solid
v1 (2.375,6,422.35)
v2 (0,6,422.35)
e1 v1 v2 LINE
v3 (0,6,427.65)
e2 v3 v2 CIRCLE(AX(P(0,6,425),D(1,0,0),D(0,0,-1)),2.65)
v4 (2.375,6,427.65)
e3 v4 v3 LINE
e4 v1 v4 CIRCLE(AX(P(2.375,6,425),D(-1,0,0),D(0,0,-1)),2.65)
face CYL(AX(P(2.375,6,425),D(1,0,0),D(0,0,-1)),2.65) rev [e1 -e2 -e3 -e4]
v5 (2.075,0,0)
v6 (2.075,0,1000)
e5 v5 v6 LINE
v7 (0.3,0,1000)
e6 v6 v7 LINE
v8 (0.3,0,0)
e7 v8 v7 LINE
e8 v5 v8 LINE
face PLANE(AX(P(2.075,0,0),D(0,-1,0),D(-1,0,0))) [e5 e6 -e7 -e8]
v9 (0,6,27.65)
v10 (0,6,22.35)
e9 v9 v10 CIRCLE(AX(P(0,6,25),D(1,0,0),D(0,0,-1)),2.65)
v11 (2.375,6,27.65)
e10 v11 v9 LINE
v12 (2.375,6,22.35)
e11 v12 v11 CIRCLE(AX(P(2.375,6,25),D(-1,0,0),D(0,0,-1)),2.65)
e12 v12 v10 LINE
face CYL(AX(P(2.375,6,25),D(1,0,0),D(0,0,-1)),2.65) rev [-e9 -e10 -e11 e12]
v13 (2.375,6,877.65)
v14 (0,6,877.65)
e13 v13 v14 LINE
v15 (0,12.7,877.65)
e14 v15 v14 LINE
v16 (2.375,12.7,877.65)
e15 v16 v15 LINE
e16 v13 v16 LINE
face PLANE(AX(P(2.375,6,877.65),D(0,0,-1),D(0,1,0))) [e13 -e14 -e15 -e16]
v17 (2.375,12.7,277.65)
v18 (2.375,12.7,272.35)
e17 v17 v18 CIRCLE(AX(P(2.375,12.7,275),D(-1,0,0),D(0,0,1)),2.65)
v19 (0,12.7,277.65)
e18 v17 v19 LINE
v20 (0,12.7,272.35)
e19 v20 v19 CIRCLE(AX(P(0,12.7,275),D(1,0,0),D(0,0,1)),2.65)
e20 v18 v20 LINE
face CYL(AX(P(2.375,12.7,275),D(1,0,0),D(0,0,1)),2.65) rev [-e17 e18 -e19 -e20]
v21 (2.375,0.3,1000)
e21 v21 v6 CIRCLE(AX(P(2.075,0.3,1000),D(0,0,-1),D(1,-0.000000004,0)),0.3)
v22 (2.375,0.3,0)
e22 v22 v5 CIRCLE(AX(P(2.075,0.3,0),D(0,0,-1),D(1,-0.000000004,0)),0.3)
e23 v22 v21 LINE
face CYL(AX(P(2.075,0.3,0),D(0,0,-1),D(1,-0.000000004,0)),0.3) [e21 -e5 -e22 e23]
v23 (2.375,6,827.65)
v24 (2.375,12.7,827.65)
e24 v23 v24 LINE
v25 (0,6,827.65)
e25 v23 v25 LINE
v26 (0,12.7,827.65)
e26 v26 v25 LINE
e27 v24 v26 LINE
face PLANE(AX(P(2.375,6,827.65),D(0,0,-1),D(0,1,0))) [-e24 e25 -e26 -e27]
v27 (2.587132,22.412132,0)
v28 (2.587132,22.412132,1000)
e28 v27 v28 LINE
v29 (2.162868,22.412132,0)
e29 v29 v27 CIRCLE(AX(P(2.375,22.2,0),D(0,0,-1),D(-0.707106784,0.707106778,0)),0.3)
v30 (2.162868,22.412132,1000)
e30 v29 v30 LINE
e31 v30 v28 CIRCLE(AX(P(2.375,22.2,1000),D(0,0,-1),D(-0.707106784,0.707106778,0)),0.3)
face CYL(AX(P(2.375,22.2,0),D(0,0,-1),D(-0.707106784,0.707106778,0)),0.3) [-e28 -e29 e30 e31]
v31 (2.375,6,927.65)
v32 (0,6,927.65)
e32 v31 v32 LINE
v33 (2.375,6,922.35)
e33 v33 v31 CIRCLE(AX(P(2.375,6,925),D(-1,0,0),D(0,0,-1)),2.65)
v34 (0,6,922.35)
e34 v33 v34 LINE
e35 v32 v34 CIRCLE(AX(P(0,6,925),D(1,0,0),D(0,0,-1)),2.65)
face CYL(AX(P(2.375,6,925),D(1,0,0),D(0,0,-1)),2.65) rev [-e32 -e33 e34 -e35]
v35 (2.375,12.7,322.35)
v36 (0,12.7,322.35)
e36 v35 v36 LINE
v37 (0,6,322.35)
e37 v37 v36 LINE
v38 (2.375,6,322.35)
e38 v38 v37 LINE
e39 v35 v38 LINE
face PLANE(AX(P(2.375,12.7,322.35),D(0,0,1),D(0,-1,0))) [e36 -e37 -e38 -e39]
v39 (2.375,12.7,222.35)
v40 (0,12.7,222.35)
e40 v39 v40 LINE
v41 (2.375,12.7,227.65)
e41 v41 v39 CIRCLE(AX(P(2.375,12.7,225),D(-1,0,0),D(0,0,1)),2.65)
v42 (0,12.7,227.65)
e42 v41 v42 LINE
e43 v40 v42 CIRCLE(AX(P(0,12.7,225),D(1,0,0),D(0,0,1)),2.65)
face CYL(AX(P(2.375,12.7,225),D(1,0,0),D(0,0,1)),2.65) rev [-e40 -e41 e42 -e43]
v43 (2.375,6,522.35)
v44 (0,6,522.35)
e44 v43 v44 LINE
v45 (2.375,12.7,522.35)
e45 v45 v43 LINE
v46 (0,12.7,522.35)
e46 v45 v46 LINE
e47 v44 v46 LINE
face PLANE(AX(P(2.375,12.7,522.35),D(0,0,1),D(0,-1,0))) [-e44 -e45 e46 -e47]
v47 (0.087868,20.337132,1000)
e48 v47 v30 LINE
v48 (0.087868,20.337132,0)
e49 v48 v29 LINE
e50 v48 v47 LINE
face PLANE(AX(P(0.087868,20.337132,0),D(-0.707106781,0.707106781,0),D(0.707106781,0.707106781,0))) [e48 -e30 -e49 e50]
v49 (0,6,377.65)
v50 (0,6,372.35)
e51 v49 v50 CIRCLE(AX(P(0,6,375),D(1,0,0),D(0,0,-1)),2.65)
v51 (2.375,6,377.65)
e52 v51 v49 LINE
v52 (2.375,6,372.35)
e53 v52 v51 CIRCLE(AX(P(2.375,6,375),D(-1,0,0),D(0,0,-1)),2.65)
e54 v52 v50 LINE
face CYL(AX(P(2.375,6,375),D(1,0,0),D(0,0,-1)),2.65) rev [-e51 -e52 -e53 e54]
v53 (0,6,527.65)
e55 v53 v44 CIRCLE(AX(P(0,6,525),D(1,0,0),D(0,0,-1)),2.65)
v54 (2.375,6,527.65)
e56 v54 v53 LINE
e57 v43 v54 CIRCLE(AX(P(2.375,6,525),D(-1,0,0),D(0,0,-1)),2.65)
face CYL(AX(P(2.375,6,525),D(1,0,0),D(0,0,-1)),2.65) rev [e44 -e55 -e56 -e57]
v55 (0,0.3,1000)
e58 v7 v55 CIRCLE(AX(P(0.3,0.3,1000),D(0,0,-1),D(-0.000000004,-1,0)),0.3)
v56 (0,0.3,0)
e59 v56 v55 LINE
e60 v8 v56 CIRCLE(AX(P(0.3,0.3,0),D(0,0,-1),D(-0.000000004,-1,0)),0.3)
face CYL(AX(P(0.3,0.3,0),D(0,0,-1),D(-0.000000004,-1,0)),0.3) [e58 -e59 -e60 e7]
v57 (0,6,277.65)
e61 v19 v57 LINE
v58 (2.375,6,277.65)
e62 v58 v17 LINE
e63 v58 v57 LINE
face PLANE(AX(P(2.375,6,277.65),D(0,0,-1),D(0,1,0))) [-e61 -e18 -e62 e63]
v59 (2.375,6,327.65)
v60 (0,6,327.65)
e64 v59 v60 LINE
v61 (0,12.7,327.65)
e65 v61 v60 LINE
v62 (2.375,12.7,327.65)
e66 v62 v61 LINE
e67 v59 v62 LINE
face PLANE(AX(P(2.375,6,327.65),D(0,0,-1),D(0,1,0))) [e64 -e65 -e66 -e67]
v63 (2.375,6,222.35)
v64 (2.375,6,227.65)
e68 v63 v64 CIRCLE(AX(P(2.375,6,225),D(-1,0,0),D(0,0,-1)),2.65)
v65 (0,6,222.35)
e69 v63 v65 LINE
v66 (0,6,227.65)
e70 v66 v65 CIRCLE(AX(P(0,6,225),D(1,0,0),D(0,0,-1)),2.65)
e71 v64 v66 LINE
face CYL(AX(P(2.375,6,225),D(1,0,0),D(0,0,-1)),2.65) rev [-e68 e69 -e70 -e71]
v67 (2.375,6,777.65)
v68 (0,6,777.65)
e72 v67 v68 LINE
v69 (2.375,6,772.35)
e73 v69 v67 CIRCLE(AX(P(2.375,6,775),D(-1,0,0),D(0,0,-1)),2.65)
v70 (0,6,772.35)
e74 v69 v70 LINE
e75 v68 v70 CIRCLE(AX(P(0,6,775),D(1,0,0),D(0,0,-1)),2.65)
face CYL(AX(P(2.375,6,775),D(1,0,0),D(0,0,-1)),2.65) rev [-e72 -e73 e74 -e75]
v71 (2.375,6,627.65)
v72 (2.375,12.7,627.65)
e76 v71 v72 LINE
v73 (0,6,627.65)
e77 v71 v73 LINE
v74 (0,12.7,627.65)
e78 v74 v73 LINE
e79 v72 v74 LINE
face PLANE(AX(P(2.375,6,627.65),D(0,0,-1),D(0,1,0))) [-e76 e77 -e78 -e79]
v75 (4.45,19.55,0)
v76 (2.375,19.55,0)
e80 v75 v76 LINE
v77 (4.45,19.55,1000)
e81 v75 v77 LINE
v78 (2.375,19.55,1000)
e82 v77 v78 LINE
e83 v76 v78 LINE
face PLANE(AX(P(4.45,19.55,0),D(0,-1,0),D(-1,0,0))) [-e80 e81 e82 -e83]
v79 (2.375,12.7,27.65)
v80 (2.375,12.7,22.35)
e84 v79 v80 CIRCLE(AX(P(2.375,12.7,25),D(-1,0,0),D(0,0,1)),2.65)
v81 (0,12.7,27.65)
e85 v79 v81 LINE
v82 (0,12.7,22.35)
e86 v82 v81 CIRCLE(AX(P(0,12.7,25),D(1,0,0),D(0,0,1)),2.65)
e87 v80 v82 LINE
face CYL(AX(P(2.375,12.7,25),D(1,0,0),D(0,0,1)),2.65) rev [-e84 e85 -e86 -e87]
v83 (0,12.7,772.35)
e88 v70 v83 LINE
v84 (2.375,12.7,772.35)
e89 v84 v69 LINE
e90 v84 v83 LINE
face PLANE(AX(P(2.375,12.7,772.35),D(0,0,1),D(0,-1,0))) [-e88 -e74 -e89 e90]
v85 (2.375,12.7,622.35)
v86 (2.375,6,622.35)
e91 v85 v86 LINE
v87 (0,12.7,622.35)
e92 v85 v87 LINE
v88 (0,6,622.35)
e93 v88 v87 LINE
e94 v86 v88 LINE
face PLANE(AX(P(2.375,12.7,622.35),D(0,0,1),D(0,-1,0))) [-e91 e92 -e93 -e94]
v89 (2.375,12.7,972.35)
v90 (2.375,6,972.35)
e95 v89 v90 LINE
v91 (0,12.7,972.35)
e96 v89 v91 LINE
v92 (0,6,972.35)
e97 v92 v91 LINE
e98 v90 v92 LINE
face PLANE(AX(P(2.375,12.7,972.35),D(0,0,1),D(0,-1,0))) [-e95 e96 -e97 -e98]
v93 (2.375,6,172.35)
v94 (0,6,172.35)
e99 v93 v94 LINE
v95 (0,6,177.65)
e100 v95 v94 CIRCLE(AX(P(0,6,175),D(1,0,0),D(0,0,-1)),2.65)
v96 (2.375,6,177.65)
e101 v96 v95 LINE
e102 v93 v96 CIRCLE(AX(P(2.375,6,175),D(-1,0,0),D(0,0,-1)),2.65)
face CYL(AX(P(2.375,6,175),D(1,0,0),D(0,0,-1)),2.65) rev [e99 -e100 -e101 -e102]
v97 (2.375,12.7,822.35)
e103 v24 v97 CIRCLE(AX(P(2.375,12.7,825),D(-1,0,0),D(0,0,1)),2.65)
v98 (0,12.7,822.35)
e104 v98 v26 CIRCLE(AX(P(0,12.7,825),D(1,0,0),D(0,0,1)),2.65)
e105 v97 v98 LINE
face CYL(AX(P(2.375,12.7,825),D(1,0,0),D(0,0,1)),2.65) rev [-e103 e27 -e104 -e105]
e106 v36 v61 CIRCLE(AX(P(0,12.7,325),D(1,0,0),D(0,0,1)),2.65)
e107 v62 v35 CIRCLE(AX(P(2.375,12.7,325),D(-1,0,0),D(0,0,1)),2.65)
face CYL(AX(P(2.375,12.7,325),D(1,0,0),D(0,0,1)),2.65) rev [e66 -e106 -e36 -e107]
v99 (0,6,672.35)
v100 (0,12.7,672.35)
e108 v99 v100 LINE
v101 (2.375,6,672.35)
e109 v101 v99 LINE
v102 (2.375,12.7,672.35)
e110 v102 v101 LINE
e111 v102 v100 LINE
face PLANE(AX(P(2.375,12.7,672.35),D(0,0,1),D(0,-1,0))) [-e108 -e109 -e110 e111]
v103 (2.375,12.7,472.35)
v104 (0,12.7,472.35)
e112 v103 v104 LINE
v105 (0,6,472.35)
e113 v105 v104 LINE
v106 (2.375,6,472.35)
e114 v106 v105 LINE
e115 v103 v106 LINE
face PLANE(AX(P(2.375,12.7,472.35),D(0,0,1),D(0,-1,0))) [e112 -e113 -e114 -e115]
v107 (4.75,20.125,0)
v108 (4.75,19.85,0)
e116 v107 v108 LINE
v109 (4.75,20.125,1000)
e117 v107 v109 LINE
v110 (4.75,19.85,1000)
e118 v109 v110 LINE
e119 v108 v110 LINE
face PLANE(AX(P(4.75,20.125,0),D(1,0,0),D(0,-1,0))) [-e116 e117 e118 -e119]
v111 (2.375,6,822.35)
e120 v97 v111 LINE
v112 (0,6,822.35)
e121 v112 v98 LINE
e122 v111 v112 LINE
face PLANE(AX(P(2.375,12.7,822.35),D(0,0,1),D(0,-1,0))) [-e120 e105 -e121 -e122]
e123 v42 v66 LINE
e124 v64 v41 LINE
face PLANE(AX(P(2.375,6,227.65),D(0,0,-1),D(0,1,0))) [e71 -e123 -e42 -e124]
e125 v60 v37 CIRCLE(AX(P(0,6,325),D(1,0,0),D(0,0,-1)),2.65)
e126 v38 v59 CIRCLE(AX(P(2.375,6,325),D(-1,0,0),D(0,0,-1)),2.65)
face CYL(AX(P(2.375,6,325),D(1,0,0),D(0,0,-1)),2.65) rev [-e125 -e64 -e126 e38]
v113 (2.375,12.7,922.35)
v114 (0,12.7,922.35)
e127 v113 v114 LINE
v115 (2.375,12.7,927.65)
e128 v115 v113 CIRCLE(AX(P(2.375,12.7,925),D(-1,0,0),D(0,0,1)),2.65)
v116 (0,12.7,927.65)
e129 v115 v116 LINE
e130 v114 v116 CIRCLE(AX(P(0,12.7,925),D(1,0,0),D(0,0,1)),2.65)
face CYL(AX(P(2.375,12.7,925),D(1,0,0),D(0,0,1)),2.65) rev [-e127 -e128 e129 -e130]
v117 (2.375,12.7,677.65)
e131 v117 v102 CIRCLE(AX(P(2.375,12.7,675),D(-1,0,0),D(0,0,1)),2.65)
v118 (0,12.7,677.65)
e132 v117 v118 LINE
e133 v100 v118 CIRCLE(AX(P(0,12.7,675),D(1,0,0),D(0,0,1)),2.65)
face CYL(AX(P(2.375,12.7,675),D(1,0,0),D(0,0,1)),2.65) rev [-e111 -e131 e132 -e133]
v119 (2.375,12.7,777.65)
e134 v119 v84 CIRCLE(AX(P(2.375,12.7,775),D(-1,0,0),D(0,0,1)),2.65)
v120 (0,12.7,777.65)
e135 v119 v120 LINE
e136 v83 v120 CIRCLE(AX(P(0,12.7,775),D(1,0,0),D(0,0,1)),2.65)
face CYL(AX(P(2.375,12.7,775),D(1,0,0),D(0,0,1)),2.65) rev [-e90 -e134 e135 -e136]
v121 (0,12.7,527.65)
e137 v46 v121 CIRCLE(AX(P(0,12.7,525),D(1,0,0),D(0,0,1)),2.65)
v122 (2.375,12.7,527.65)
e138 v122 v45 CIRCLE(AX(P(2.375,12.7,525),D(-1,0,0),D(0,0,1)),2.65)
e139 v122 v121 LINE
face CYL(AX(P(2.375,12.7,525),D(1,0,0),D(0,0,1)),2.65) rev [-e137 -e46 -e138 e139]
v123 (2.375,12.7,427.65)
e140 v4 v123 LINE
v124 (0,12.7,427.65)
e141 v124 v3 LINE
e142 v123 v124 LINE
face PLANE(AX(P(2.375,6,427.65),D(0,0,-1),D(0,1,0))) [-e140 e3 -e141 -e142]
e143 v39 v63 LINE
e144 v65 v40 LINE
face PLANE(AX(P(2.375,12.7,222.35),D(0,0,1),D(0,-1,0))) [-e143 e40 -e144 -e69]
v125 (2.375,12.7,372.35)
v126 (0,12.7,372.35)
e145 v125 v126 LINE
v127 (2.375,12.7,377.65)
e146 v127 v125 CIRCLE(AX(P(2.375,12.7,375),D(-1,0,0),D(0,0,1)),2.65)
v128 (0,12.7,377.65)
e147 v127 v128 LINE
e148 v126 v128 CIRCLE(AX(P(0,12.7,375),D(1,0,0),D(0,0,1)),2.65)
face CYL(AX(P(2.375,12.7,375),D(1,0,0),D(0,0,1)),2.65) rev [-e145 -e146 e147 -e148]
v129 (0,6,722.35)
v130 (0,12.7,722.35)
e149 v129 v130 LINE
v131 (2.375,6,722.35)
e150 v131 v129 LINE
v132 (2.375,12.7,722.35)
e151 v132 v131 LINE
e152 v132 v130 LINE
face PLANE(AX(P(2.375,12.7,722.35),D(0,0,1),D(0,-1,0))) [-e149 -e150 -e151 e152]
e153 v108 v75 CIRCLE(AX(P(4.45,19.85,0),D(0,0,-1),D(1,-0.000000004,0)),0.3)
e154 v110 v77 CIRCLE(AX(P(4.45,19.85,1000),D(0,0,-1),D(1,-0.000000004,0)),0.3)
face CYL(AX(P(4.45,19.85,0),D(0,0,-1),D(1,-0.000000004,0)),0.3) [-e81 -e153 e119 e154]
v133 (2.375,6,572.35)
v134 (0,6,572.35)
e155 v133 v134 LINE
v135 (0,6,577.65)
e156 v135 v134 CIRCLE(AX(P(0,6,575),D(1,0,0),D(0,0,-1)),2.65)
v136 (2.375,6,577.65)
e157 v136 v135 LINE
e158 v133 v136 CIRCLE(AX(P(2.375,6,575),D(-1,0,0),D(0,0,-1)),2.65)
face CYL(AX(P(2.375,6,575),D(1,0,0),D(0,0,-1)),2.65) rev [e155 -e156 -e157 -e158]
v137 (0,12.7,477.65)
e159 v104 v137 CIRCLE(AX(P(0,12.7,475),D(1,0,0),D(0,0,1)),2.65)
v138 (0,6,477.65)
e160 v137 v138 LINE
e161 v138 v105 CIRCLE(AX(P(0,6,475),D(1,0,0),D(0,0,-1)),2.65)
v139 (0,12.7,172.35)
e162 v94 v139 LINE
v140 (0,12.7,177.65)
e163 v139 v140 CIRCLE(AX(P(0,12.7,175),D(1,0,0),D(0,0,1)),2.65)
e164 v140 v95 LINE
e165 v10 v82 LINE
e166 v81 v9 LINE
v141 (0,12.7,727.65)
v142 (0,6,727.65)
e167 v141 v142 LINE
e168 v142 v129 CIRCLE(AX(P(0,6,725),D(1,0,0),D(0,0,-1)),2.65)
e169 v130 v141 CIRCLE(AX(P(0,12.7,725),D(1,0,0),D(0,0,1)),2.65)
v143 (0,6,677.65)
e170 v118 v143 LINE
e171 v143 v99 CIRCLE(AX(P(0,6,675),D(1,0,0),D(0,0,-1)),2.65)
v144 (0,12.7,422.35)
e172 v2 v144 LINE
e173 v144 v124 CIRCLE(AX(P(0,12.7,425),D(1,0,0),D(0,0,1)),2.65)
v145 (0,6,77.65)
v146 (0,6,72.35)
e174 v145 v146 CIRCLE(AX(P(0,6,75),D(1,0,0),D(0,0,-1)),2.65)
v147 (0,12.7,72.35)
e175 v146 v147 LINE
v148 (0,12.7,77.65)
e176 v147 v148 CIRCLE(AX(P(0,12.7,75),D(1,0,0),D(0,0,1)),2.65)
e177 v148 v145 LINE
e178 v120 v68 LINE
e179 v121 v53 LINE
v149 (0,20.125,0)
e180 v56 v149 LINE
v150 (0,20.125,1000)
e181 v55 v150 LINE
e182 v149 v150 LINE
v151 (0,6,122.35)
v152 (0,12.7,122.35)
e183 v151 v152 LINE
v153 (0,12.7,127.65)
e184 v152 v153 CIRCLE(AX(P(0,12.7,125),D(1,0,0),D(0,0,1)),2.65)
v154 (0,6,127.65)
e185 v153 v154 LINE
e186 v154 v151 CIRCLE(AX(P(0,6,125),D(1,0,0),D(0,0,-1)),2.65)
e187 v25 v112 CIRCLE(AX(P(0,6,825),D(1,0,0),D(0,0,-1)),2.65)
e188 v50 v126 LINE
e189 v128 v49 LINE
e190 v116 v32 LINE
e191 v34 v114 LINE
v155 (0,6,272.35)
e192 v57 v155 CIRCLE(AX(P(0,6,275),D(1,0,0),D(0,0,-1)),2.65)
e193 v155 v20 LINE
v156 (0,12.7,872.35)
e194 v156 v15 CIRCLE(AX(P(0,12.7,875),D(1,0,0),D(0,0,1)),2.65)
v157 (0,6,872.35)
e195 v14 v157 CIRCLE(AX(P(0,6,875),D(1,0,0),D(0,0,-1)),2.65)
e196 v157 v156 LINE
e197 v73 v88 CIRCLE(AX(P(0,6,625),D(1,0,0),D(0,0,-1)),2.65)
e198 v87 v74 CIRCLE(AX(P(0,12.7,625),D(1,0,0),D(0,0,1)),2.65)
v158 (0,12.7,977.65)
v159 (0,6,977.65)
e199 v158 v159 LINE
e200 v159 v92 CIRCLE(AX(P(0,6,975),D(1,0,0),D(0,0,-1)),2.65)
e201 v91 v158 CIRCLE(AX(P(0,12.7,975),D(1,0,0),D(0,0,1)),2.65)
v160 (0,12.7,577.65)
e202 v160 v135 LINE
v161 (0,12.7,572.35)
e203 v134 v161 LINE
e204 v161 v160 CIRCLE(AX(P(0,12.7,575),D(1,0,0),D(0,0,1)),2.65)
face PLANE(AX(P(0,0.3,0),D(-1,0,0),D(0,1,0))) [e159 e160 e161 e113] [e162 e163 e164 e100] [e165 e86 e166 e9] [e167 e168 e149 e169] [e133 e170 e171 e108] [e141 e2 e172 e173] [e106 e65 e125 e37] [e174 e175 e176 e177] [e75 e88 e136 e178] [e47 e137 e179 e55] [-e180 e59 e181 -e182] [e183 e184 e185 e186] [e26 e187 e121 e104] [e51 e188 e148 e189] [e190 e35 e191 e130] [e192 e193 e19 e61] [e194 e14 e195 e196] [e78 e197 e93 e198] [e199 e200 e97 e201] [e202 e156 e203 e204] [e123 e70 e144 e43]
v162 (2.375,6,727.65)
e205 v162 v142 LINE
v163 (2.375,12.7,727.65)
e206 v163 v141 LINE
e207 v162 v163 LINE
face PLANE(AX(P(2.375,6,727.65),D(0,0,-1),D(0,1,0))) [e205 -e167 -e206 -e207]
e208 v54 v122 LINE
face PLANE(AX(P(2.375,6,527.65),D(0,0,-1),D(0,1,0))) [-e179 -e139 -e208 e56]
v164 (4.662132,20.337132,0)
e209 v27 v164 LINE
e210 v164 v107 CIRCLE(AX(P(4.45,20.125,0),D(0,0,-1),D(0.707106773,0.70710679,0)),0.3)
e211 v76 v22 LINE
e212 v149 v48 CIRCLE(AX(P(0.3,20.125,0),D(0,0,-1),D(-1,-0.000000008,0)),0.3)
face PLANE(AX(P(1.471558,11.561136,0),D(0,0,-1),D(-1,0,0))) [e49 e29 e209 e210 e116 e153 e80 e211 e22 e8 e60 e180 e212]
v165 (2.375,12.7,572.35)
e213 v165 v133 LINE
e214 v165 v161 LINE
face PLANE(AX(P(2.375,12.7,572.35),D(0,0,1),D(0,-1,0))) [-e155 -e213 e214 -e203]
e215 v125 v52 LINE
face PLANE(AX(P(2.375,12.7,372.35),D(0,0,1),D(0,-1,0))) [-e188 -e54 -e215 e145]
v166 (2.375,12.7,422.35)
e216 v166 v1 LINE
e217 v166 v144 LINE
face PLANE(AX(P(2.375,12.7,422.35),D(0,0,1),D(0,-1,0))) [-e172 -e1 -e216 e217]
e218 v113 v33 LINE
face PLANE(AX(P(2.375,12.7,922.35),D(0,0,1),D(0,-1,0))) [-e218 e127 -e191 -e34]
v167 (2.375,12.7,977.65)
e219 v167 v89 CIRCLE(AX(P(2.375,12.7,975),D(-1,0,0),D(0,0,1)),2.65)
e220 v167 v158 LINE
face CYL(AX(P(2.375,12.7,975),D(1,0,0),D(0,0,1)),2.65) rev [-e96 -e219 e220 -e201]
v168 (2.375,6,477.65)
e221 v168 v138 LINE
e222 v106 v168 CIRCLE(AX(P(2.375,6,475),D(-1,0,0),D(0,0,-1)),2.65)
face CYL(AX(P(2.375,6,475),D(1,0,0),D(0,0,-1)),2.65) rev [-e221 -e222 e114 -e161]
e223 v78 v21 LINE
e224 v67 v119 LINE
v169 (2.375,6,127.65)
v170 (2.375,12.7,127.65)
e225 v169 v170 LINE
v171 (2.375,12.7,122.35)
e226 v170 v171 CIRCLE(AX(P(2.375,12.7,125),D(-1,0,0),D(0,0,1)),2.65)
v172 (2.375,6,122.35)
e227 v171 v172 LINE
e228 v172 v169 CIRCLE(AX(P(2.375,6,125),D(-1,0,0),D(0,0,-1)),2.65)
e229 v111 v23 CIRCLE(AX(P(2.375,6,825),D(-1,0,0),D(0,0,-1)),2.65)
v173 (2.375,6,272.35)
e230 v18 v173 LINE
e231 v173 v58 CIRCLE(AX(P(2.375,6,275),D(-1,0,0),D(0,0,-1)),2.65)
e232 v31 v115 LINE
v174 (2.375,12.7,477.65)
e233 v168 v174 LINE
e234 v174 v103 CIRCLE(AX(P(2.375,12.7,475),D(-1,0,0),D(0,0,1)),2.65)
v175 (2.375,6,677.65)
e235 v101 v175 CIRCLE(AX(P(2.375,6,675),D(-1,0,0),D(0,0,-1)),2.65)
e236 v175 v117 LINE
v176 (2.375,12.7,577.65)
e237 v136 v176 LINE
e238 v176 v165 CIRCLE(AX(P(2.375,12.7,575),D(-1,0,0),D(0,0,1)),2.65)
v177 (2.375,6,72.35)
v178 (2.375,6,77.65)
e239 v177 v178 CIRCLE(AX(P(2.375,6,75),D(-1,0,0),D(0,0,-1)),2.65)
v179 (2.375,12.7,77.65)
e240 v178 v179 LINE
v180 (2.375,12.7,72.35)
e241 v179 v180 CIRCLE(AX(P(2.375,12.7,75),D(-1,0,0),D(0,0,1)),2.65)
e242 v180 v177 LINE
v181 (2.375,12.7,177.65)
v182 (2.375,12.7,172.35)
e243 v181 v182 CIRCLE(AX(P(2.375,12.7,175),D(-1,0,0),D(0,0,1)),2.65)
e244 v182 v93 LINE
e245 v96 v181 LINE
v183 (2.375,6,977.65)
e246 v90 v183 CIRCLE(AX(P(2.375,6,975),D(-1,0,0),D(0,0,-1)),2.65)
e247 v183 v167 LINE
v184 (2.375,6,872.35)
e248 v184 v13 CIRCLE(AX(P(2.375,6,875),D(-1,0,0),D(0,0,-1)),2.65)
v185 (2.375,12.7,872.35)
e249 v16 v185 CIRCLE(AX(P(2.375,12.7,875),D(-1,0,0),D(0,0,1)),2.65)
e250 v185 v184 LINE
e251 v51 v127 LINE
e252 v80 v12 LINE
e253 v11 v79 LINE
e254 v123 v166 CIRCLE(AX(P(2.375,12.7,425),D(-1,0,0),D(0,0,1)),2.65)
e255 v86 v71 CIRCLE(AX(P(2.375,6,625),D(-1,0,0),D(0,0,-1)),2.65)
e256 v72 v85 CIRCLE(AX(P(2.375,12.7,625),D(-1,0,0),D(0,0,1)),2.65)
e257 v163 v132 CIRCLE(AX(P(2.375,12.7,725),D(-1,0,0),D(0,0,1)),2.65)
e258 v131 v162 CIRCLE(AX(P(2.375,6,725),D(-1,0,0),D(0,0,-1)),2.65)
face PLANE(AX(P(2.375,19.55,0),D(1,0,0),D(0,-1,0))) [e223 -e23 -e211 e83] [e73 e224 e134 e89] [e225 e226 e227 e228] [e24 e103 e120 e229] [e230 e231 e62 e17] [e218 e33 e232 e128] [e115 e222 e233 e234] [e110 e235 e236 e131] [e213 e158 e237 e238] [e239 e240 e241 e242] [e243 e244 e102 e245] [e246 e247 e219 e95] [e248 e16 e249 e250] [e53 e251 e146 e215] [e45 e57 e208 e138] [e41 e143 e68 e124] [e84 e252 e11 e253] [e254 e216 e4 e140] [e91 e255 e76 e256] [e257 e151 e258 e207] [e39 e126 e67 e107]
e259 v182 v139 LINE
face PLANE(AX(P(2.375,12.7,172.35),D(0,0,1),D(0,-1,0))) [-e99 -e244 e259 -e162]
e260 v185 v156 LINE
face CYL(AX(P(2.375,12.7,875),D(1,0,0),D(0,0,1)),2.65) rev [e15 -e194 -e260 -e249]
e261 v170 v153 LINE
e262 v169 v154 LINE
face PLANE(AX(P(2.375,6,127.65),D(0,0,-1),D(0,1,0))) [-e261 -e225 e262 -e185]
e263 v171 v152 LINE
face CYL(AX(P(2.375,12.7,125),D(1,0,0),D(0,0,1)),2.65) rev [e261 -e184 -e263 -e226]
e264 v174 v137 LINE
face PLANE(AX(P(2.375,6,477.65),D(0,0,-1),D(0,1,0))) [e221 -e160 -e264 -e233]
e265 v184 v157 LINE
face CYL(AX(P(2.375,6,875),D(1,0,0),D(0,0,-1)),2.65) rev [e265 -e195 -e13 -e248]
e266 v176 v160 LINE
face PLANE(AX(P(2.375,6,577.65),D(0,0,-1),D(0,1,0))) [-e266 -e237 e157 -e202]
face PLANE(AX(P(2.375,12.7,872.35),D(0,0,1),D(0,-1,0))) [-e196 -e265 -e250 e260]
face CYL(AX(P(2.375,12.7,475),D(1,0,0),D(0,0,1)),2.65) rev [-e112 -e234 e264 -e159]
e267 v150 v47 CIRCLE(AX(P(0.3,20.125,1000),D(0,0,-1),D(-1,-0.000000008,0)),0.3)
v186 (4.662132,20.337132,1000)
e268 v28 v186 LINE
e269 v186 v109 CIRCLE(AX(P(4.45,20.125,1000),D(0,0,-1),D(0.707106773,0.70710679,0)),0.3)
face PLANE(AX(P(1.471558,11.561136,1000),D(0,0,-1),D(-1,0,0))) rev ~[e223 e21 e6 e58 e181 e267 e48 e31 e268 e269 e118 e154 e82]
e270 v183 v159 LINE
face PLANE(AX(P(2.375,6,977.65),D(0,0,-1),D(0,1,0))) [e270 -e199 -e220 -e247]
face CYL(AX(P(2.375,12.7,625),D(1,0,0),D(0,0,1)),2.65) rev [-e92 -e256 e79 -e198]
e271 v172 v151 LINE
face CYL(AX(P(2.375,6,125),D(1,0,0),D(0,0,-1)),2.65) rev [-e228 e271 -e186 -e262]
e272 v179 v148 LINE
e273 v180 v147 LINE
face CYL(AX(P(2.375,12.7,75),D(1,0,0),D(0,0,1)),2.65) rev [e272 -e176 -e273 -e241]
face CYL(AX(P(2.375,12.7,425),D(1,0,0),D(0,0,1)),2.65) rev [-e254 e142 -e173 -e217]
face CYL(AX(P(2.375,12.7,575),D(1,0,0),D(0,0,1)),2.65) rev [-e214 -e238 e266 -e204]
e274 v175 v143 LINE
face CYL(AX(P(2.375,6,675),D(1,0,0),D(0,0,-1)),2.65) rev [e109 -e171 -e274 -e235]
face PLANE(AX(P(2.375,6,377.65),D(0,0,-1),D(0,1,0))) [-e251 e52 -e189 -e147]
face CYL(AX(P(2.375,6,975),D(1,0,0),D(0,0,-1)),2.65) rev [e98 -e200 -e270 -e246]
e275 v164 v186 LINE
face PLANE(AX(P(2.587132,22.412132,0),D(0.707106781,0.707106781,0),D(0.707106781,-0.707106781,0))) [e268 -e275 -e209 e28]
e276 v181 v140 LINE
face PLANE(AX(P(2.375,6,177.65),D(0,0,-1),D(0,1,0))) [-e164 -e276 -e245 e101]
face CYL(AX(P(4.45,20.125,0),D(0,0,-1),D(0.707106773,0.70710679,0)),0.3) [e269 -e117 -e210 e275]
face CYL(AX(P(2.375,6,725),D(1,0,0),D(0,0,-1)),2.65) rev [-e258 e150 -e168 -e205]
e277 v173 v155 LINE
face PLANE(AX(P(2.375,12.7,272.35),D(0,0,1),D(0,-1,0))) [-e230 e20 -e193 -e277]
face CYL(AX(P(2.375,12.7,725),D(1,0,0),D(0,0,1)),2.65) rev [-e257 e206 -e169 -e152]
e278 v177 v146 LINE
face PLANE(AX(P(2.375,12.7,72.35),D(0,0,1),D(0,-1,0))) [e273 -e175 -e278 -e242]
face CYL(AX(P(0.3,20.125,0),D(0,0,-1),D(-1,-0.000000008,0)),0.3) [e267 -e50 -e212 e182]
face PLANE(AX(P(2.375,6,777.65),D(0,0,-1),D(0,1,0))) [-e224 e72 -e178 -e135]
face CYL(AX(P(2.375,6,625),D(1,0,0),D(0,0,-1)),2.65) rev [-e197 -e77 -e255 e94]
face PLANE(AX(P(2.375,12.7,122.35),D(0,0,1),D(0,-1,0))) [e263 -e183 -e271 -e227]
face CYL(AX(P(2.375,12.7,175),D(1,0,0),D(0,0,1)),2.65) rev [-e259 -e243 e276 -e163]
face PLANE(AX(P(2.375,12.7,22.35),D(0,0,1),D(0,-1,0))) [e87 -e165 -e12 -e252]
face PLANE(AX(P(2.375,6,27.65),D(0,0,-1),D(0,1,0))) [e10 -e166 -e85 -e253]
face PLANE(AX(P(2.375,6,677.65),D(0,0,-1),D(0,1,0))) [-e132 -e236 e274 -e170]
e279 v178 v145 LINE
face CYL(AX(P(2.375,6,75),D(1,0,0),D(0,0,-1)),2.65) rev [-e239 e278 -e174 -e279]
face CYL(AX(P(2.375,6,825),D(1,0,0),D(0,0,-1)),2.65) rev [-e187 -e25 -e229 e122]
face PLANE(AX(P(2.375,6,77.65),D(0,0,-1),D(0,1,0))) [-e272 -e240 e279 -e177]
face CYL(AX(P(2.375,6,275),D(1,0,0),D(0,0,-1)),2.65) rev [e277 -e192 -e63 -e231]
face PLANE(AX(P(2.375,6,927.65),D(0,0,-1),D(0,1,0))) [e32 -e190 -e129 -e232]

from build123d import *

# Parameters (mm, degrees)
BOSS_EXTRUDE1_DEPTH = 1000
CUT_EXTRUDE1_DEPTH  = 3.375
LPATTERN1_COUNT     = 20
LPATTERN1_PITCH     = 50


with BuildPart() as part:
    # Sketch1 → Boss-Extrude1 (new body)
    with BuildSketch(Plane.XY):
        with BuildLine():
            Line((0, 0.3), (0, 20.125))
            ThreePointArc((0, 20.125), (0.02283614, 20.23980503), (0.087867966, 20.337132034))
            Line((0.087867966, 20.337132034), (2.162867966, 22.412132034))
            ThreePointArc((2.162867966, 22.412132034), (2.375, 22.5), (2.587132034, 22.412132034))
            Line((2.587132034, 22.412132034), (4.662132034, 20.337132034))
            ThreePointArc((4.662132034, 20.337132034), (4.72716386, 20.23980503), (4.75, 20.125))
            Line((4.75, 20.125), (4.75, 19.85))
            ThreePointArc((4.75, 19.85), (4.662132034, 19.637867966), (4.45, 19.55))
            Line((4.45, 19.55), (2.375, 19.55))
            Line((2.375, 19.55), (2.375, 0.3))
            ThreePointArc((2.375, 0.3), (2.287132034, 0.087867966), (2.075, 0))
            Line((2.075, 0), (0.3, 0))
            ThreePointArc((0.3, 0), (0.087867966, 0.087867966), (0, 0.3))
        make_face()
    extrude(amount=BOSS_EXTRUDE1_DEPTH)

    # Sketch2 → Cut-Extrude1 (cut, through all)
    with BuildSketch(Plane(origin=(2.375, 0, 0), x_dir=(0, 0, -1), z_dir=(1, 0, 0))):
        with BuildLine():
            Line((-22.35, 12.7), (-22.35, 6))
            ThreePointArc((-22.35, 6), (-25, 3.35), (-27.65, 6))
            Line((-27.65, 6), (-27.65, 12.7))
            ThreePointArc((-27.65, 12.7), (-25, 15.35), (-22.35, 12.7))
        make_face()
    cut_extrude1 = extrude(amount=-CUT_EXTRUDE1_DEPTH, mode=Mode.SUBTRACT)

    # LPattern1: Cut-Extrude1 ×20
    with Locations(*[(0, 0, i * LPATTERN1_PITCH) for i in range(1, LPATTERN1_COUNT)]):
        add(cut_extrude1, mode=Mode.SUBTRACT)


solid = part.part
